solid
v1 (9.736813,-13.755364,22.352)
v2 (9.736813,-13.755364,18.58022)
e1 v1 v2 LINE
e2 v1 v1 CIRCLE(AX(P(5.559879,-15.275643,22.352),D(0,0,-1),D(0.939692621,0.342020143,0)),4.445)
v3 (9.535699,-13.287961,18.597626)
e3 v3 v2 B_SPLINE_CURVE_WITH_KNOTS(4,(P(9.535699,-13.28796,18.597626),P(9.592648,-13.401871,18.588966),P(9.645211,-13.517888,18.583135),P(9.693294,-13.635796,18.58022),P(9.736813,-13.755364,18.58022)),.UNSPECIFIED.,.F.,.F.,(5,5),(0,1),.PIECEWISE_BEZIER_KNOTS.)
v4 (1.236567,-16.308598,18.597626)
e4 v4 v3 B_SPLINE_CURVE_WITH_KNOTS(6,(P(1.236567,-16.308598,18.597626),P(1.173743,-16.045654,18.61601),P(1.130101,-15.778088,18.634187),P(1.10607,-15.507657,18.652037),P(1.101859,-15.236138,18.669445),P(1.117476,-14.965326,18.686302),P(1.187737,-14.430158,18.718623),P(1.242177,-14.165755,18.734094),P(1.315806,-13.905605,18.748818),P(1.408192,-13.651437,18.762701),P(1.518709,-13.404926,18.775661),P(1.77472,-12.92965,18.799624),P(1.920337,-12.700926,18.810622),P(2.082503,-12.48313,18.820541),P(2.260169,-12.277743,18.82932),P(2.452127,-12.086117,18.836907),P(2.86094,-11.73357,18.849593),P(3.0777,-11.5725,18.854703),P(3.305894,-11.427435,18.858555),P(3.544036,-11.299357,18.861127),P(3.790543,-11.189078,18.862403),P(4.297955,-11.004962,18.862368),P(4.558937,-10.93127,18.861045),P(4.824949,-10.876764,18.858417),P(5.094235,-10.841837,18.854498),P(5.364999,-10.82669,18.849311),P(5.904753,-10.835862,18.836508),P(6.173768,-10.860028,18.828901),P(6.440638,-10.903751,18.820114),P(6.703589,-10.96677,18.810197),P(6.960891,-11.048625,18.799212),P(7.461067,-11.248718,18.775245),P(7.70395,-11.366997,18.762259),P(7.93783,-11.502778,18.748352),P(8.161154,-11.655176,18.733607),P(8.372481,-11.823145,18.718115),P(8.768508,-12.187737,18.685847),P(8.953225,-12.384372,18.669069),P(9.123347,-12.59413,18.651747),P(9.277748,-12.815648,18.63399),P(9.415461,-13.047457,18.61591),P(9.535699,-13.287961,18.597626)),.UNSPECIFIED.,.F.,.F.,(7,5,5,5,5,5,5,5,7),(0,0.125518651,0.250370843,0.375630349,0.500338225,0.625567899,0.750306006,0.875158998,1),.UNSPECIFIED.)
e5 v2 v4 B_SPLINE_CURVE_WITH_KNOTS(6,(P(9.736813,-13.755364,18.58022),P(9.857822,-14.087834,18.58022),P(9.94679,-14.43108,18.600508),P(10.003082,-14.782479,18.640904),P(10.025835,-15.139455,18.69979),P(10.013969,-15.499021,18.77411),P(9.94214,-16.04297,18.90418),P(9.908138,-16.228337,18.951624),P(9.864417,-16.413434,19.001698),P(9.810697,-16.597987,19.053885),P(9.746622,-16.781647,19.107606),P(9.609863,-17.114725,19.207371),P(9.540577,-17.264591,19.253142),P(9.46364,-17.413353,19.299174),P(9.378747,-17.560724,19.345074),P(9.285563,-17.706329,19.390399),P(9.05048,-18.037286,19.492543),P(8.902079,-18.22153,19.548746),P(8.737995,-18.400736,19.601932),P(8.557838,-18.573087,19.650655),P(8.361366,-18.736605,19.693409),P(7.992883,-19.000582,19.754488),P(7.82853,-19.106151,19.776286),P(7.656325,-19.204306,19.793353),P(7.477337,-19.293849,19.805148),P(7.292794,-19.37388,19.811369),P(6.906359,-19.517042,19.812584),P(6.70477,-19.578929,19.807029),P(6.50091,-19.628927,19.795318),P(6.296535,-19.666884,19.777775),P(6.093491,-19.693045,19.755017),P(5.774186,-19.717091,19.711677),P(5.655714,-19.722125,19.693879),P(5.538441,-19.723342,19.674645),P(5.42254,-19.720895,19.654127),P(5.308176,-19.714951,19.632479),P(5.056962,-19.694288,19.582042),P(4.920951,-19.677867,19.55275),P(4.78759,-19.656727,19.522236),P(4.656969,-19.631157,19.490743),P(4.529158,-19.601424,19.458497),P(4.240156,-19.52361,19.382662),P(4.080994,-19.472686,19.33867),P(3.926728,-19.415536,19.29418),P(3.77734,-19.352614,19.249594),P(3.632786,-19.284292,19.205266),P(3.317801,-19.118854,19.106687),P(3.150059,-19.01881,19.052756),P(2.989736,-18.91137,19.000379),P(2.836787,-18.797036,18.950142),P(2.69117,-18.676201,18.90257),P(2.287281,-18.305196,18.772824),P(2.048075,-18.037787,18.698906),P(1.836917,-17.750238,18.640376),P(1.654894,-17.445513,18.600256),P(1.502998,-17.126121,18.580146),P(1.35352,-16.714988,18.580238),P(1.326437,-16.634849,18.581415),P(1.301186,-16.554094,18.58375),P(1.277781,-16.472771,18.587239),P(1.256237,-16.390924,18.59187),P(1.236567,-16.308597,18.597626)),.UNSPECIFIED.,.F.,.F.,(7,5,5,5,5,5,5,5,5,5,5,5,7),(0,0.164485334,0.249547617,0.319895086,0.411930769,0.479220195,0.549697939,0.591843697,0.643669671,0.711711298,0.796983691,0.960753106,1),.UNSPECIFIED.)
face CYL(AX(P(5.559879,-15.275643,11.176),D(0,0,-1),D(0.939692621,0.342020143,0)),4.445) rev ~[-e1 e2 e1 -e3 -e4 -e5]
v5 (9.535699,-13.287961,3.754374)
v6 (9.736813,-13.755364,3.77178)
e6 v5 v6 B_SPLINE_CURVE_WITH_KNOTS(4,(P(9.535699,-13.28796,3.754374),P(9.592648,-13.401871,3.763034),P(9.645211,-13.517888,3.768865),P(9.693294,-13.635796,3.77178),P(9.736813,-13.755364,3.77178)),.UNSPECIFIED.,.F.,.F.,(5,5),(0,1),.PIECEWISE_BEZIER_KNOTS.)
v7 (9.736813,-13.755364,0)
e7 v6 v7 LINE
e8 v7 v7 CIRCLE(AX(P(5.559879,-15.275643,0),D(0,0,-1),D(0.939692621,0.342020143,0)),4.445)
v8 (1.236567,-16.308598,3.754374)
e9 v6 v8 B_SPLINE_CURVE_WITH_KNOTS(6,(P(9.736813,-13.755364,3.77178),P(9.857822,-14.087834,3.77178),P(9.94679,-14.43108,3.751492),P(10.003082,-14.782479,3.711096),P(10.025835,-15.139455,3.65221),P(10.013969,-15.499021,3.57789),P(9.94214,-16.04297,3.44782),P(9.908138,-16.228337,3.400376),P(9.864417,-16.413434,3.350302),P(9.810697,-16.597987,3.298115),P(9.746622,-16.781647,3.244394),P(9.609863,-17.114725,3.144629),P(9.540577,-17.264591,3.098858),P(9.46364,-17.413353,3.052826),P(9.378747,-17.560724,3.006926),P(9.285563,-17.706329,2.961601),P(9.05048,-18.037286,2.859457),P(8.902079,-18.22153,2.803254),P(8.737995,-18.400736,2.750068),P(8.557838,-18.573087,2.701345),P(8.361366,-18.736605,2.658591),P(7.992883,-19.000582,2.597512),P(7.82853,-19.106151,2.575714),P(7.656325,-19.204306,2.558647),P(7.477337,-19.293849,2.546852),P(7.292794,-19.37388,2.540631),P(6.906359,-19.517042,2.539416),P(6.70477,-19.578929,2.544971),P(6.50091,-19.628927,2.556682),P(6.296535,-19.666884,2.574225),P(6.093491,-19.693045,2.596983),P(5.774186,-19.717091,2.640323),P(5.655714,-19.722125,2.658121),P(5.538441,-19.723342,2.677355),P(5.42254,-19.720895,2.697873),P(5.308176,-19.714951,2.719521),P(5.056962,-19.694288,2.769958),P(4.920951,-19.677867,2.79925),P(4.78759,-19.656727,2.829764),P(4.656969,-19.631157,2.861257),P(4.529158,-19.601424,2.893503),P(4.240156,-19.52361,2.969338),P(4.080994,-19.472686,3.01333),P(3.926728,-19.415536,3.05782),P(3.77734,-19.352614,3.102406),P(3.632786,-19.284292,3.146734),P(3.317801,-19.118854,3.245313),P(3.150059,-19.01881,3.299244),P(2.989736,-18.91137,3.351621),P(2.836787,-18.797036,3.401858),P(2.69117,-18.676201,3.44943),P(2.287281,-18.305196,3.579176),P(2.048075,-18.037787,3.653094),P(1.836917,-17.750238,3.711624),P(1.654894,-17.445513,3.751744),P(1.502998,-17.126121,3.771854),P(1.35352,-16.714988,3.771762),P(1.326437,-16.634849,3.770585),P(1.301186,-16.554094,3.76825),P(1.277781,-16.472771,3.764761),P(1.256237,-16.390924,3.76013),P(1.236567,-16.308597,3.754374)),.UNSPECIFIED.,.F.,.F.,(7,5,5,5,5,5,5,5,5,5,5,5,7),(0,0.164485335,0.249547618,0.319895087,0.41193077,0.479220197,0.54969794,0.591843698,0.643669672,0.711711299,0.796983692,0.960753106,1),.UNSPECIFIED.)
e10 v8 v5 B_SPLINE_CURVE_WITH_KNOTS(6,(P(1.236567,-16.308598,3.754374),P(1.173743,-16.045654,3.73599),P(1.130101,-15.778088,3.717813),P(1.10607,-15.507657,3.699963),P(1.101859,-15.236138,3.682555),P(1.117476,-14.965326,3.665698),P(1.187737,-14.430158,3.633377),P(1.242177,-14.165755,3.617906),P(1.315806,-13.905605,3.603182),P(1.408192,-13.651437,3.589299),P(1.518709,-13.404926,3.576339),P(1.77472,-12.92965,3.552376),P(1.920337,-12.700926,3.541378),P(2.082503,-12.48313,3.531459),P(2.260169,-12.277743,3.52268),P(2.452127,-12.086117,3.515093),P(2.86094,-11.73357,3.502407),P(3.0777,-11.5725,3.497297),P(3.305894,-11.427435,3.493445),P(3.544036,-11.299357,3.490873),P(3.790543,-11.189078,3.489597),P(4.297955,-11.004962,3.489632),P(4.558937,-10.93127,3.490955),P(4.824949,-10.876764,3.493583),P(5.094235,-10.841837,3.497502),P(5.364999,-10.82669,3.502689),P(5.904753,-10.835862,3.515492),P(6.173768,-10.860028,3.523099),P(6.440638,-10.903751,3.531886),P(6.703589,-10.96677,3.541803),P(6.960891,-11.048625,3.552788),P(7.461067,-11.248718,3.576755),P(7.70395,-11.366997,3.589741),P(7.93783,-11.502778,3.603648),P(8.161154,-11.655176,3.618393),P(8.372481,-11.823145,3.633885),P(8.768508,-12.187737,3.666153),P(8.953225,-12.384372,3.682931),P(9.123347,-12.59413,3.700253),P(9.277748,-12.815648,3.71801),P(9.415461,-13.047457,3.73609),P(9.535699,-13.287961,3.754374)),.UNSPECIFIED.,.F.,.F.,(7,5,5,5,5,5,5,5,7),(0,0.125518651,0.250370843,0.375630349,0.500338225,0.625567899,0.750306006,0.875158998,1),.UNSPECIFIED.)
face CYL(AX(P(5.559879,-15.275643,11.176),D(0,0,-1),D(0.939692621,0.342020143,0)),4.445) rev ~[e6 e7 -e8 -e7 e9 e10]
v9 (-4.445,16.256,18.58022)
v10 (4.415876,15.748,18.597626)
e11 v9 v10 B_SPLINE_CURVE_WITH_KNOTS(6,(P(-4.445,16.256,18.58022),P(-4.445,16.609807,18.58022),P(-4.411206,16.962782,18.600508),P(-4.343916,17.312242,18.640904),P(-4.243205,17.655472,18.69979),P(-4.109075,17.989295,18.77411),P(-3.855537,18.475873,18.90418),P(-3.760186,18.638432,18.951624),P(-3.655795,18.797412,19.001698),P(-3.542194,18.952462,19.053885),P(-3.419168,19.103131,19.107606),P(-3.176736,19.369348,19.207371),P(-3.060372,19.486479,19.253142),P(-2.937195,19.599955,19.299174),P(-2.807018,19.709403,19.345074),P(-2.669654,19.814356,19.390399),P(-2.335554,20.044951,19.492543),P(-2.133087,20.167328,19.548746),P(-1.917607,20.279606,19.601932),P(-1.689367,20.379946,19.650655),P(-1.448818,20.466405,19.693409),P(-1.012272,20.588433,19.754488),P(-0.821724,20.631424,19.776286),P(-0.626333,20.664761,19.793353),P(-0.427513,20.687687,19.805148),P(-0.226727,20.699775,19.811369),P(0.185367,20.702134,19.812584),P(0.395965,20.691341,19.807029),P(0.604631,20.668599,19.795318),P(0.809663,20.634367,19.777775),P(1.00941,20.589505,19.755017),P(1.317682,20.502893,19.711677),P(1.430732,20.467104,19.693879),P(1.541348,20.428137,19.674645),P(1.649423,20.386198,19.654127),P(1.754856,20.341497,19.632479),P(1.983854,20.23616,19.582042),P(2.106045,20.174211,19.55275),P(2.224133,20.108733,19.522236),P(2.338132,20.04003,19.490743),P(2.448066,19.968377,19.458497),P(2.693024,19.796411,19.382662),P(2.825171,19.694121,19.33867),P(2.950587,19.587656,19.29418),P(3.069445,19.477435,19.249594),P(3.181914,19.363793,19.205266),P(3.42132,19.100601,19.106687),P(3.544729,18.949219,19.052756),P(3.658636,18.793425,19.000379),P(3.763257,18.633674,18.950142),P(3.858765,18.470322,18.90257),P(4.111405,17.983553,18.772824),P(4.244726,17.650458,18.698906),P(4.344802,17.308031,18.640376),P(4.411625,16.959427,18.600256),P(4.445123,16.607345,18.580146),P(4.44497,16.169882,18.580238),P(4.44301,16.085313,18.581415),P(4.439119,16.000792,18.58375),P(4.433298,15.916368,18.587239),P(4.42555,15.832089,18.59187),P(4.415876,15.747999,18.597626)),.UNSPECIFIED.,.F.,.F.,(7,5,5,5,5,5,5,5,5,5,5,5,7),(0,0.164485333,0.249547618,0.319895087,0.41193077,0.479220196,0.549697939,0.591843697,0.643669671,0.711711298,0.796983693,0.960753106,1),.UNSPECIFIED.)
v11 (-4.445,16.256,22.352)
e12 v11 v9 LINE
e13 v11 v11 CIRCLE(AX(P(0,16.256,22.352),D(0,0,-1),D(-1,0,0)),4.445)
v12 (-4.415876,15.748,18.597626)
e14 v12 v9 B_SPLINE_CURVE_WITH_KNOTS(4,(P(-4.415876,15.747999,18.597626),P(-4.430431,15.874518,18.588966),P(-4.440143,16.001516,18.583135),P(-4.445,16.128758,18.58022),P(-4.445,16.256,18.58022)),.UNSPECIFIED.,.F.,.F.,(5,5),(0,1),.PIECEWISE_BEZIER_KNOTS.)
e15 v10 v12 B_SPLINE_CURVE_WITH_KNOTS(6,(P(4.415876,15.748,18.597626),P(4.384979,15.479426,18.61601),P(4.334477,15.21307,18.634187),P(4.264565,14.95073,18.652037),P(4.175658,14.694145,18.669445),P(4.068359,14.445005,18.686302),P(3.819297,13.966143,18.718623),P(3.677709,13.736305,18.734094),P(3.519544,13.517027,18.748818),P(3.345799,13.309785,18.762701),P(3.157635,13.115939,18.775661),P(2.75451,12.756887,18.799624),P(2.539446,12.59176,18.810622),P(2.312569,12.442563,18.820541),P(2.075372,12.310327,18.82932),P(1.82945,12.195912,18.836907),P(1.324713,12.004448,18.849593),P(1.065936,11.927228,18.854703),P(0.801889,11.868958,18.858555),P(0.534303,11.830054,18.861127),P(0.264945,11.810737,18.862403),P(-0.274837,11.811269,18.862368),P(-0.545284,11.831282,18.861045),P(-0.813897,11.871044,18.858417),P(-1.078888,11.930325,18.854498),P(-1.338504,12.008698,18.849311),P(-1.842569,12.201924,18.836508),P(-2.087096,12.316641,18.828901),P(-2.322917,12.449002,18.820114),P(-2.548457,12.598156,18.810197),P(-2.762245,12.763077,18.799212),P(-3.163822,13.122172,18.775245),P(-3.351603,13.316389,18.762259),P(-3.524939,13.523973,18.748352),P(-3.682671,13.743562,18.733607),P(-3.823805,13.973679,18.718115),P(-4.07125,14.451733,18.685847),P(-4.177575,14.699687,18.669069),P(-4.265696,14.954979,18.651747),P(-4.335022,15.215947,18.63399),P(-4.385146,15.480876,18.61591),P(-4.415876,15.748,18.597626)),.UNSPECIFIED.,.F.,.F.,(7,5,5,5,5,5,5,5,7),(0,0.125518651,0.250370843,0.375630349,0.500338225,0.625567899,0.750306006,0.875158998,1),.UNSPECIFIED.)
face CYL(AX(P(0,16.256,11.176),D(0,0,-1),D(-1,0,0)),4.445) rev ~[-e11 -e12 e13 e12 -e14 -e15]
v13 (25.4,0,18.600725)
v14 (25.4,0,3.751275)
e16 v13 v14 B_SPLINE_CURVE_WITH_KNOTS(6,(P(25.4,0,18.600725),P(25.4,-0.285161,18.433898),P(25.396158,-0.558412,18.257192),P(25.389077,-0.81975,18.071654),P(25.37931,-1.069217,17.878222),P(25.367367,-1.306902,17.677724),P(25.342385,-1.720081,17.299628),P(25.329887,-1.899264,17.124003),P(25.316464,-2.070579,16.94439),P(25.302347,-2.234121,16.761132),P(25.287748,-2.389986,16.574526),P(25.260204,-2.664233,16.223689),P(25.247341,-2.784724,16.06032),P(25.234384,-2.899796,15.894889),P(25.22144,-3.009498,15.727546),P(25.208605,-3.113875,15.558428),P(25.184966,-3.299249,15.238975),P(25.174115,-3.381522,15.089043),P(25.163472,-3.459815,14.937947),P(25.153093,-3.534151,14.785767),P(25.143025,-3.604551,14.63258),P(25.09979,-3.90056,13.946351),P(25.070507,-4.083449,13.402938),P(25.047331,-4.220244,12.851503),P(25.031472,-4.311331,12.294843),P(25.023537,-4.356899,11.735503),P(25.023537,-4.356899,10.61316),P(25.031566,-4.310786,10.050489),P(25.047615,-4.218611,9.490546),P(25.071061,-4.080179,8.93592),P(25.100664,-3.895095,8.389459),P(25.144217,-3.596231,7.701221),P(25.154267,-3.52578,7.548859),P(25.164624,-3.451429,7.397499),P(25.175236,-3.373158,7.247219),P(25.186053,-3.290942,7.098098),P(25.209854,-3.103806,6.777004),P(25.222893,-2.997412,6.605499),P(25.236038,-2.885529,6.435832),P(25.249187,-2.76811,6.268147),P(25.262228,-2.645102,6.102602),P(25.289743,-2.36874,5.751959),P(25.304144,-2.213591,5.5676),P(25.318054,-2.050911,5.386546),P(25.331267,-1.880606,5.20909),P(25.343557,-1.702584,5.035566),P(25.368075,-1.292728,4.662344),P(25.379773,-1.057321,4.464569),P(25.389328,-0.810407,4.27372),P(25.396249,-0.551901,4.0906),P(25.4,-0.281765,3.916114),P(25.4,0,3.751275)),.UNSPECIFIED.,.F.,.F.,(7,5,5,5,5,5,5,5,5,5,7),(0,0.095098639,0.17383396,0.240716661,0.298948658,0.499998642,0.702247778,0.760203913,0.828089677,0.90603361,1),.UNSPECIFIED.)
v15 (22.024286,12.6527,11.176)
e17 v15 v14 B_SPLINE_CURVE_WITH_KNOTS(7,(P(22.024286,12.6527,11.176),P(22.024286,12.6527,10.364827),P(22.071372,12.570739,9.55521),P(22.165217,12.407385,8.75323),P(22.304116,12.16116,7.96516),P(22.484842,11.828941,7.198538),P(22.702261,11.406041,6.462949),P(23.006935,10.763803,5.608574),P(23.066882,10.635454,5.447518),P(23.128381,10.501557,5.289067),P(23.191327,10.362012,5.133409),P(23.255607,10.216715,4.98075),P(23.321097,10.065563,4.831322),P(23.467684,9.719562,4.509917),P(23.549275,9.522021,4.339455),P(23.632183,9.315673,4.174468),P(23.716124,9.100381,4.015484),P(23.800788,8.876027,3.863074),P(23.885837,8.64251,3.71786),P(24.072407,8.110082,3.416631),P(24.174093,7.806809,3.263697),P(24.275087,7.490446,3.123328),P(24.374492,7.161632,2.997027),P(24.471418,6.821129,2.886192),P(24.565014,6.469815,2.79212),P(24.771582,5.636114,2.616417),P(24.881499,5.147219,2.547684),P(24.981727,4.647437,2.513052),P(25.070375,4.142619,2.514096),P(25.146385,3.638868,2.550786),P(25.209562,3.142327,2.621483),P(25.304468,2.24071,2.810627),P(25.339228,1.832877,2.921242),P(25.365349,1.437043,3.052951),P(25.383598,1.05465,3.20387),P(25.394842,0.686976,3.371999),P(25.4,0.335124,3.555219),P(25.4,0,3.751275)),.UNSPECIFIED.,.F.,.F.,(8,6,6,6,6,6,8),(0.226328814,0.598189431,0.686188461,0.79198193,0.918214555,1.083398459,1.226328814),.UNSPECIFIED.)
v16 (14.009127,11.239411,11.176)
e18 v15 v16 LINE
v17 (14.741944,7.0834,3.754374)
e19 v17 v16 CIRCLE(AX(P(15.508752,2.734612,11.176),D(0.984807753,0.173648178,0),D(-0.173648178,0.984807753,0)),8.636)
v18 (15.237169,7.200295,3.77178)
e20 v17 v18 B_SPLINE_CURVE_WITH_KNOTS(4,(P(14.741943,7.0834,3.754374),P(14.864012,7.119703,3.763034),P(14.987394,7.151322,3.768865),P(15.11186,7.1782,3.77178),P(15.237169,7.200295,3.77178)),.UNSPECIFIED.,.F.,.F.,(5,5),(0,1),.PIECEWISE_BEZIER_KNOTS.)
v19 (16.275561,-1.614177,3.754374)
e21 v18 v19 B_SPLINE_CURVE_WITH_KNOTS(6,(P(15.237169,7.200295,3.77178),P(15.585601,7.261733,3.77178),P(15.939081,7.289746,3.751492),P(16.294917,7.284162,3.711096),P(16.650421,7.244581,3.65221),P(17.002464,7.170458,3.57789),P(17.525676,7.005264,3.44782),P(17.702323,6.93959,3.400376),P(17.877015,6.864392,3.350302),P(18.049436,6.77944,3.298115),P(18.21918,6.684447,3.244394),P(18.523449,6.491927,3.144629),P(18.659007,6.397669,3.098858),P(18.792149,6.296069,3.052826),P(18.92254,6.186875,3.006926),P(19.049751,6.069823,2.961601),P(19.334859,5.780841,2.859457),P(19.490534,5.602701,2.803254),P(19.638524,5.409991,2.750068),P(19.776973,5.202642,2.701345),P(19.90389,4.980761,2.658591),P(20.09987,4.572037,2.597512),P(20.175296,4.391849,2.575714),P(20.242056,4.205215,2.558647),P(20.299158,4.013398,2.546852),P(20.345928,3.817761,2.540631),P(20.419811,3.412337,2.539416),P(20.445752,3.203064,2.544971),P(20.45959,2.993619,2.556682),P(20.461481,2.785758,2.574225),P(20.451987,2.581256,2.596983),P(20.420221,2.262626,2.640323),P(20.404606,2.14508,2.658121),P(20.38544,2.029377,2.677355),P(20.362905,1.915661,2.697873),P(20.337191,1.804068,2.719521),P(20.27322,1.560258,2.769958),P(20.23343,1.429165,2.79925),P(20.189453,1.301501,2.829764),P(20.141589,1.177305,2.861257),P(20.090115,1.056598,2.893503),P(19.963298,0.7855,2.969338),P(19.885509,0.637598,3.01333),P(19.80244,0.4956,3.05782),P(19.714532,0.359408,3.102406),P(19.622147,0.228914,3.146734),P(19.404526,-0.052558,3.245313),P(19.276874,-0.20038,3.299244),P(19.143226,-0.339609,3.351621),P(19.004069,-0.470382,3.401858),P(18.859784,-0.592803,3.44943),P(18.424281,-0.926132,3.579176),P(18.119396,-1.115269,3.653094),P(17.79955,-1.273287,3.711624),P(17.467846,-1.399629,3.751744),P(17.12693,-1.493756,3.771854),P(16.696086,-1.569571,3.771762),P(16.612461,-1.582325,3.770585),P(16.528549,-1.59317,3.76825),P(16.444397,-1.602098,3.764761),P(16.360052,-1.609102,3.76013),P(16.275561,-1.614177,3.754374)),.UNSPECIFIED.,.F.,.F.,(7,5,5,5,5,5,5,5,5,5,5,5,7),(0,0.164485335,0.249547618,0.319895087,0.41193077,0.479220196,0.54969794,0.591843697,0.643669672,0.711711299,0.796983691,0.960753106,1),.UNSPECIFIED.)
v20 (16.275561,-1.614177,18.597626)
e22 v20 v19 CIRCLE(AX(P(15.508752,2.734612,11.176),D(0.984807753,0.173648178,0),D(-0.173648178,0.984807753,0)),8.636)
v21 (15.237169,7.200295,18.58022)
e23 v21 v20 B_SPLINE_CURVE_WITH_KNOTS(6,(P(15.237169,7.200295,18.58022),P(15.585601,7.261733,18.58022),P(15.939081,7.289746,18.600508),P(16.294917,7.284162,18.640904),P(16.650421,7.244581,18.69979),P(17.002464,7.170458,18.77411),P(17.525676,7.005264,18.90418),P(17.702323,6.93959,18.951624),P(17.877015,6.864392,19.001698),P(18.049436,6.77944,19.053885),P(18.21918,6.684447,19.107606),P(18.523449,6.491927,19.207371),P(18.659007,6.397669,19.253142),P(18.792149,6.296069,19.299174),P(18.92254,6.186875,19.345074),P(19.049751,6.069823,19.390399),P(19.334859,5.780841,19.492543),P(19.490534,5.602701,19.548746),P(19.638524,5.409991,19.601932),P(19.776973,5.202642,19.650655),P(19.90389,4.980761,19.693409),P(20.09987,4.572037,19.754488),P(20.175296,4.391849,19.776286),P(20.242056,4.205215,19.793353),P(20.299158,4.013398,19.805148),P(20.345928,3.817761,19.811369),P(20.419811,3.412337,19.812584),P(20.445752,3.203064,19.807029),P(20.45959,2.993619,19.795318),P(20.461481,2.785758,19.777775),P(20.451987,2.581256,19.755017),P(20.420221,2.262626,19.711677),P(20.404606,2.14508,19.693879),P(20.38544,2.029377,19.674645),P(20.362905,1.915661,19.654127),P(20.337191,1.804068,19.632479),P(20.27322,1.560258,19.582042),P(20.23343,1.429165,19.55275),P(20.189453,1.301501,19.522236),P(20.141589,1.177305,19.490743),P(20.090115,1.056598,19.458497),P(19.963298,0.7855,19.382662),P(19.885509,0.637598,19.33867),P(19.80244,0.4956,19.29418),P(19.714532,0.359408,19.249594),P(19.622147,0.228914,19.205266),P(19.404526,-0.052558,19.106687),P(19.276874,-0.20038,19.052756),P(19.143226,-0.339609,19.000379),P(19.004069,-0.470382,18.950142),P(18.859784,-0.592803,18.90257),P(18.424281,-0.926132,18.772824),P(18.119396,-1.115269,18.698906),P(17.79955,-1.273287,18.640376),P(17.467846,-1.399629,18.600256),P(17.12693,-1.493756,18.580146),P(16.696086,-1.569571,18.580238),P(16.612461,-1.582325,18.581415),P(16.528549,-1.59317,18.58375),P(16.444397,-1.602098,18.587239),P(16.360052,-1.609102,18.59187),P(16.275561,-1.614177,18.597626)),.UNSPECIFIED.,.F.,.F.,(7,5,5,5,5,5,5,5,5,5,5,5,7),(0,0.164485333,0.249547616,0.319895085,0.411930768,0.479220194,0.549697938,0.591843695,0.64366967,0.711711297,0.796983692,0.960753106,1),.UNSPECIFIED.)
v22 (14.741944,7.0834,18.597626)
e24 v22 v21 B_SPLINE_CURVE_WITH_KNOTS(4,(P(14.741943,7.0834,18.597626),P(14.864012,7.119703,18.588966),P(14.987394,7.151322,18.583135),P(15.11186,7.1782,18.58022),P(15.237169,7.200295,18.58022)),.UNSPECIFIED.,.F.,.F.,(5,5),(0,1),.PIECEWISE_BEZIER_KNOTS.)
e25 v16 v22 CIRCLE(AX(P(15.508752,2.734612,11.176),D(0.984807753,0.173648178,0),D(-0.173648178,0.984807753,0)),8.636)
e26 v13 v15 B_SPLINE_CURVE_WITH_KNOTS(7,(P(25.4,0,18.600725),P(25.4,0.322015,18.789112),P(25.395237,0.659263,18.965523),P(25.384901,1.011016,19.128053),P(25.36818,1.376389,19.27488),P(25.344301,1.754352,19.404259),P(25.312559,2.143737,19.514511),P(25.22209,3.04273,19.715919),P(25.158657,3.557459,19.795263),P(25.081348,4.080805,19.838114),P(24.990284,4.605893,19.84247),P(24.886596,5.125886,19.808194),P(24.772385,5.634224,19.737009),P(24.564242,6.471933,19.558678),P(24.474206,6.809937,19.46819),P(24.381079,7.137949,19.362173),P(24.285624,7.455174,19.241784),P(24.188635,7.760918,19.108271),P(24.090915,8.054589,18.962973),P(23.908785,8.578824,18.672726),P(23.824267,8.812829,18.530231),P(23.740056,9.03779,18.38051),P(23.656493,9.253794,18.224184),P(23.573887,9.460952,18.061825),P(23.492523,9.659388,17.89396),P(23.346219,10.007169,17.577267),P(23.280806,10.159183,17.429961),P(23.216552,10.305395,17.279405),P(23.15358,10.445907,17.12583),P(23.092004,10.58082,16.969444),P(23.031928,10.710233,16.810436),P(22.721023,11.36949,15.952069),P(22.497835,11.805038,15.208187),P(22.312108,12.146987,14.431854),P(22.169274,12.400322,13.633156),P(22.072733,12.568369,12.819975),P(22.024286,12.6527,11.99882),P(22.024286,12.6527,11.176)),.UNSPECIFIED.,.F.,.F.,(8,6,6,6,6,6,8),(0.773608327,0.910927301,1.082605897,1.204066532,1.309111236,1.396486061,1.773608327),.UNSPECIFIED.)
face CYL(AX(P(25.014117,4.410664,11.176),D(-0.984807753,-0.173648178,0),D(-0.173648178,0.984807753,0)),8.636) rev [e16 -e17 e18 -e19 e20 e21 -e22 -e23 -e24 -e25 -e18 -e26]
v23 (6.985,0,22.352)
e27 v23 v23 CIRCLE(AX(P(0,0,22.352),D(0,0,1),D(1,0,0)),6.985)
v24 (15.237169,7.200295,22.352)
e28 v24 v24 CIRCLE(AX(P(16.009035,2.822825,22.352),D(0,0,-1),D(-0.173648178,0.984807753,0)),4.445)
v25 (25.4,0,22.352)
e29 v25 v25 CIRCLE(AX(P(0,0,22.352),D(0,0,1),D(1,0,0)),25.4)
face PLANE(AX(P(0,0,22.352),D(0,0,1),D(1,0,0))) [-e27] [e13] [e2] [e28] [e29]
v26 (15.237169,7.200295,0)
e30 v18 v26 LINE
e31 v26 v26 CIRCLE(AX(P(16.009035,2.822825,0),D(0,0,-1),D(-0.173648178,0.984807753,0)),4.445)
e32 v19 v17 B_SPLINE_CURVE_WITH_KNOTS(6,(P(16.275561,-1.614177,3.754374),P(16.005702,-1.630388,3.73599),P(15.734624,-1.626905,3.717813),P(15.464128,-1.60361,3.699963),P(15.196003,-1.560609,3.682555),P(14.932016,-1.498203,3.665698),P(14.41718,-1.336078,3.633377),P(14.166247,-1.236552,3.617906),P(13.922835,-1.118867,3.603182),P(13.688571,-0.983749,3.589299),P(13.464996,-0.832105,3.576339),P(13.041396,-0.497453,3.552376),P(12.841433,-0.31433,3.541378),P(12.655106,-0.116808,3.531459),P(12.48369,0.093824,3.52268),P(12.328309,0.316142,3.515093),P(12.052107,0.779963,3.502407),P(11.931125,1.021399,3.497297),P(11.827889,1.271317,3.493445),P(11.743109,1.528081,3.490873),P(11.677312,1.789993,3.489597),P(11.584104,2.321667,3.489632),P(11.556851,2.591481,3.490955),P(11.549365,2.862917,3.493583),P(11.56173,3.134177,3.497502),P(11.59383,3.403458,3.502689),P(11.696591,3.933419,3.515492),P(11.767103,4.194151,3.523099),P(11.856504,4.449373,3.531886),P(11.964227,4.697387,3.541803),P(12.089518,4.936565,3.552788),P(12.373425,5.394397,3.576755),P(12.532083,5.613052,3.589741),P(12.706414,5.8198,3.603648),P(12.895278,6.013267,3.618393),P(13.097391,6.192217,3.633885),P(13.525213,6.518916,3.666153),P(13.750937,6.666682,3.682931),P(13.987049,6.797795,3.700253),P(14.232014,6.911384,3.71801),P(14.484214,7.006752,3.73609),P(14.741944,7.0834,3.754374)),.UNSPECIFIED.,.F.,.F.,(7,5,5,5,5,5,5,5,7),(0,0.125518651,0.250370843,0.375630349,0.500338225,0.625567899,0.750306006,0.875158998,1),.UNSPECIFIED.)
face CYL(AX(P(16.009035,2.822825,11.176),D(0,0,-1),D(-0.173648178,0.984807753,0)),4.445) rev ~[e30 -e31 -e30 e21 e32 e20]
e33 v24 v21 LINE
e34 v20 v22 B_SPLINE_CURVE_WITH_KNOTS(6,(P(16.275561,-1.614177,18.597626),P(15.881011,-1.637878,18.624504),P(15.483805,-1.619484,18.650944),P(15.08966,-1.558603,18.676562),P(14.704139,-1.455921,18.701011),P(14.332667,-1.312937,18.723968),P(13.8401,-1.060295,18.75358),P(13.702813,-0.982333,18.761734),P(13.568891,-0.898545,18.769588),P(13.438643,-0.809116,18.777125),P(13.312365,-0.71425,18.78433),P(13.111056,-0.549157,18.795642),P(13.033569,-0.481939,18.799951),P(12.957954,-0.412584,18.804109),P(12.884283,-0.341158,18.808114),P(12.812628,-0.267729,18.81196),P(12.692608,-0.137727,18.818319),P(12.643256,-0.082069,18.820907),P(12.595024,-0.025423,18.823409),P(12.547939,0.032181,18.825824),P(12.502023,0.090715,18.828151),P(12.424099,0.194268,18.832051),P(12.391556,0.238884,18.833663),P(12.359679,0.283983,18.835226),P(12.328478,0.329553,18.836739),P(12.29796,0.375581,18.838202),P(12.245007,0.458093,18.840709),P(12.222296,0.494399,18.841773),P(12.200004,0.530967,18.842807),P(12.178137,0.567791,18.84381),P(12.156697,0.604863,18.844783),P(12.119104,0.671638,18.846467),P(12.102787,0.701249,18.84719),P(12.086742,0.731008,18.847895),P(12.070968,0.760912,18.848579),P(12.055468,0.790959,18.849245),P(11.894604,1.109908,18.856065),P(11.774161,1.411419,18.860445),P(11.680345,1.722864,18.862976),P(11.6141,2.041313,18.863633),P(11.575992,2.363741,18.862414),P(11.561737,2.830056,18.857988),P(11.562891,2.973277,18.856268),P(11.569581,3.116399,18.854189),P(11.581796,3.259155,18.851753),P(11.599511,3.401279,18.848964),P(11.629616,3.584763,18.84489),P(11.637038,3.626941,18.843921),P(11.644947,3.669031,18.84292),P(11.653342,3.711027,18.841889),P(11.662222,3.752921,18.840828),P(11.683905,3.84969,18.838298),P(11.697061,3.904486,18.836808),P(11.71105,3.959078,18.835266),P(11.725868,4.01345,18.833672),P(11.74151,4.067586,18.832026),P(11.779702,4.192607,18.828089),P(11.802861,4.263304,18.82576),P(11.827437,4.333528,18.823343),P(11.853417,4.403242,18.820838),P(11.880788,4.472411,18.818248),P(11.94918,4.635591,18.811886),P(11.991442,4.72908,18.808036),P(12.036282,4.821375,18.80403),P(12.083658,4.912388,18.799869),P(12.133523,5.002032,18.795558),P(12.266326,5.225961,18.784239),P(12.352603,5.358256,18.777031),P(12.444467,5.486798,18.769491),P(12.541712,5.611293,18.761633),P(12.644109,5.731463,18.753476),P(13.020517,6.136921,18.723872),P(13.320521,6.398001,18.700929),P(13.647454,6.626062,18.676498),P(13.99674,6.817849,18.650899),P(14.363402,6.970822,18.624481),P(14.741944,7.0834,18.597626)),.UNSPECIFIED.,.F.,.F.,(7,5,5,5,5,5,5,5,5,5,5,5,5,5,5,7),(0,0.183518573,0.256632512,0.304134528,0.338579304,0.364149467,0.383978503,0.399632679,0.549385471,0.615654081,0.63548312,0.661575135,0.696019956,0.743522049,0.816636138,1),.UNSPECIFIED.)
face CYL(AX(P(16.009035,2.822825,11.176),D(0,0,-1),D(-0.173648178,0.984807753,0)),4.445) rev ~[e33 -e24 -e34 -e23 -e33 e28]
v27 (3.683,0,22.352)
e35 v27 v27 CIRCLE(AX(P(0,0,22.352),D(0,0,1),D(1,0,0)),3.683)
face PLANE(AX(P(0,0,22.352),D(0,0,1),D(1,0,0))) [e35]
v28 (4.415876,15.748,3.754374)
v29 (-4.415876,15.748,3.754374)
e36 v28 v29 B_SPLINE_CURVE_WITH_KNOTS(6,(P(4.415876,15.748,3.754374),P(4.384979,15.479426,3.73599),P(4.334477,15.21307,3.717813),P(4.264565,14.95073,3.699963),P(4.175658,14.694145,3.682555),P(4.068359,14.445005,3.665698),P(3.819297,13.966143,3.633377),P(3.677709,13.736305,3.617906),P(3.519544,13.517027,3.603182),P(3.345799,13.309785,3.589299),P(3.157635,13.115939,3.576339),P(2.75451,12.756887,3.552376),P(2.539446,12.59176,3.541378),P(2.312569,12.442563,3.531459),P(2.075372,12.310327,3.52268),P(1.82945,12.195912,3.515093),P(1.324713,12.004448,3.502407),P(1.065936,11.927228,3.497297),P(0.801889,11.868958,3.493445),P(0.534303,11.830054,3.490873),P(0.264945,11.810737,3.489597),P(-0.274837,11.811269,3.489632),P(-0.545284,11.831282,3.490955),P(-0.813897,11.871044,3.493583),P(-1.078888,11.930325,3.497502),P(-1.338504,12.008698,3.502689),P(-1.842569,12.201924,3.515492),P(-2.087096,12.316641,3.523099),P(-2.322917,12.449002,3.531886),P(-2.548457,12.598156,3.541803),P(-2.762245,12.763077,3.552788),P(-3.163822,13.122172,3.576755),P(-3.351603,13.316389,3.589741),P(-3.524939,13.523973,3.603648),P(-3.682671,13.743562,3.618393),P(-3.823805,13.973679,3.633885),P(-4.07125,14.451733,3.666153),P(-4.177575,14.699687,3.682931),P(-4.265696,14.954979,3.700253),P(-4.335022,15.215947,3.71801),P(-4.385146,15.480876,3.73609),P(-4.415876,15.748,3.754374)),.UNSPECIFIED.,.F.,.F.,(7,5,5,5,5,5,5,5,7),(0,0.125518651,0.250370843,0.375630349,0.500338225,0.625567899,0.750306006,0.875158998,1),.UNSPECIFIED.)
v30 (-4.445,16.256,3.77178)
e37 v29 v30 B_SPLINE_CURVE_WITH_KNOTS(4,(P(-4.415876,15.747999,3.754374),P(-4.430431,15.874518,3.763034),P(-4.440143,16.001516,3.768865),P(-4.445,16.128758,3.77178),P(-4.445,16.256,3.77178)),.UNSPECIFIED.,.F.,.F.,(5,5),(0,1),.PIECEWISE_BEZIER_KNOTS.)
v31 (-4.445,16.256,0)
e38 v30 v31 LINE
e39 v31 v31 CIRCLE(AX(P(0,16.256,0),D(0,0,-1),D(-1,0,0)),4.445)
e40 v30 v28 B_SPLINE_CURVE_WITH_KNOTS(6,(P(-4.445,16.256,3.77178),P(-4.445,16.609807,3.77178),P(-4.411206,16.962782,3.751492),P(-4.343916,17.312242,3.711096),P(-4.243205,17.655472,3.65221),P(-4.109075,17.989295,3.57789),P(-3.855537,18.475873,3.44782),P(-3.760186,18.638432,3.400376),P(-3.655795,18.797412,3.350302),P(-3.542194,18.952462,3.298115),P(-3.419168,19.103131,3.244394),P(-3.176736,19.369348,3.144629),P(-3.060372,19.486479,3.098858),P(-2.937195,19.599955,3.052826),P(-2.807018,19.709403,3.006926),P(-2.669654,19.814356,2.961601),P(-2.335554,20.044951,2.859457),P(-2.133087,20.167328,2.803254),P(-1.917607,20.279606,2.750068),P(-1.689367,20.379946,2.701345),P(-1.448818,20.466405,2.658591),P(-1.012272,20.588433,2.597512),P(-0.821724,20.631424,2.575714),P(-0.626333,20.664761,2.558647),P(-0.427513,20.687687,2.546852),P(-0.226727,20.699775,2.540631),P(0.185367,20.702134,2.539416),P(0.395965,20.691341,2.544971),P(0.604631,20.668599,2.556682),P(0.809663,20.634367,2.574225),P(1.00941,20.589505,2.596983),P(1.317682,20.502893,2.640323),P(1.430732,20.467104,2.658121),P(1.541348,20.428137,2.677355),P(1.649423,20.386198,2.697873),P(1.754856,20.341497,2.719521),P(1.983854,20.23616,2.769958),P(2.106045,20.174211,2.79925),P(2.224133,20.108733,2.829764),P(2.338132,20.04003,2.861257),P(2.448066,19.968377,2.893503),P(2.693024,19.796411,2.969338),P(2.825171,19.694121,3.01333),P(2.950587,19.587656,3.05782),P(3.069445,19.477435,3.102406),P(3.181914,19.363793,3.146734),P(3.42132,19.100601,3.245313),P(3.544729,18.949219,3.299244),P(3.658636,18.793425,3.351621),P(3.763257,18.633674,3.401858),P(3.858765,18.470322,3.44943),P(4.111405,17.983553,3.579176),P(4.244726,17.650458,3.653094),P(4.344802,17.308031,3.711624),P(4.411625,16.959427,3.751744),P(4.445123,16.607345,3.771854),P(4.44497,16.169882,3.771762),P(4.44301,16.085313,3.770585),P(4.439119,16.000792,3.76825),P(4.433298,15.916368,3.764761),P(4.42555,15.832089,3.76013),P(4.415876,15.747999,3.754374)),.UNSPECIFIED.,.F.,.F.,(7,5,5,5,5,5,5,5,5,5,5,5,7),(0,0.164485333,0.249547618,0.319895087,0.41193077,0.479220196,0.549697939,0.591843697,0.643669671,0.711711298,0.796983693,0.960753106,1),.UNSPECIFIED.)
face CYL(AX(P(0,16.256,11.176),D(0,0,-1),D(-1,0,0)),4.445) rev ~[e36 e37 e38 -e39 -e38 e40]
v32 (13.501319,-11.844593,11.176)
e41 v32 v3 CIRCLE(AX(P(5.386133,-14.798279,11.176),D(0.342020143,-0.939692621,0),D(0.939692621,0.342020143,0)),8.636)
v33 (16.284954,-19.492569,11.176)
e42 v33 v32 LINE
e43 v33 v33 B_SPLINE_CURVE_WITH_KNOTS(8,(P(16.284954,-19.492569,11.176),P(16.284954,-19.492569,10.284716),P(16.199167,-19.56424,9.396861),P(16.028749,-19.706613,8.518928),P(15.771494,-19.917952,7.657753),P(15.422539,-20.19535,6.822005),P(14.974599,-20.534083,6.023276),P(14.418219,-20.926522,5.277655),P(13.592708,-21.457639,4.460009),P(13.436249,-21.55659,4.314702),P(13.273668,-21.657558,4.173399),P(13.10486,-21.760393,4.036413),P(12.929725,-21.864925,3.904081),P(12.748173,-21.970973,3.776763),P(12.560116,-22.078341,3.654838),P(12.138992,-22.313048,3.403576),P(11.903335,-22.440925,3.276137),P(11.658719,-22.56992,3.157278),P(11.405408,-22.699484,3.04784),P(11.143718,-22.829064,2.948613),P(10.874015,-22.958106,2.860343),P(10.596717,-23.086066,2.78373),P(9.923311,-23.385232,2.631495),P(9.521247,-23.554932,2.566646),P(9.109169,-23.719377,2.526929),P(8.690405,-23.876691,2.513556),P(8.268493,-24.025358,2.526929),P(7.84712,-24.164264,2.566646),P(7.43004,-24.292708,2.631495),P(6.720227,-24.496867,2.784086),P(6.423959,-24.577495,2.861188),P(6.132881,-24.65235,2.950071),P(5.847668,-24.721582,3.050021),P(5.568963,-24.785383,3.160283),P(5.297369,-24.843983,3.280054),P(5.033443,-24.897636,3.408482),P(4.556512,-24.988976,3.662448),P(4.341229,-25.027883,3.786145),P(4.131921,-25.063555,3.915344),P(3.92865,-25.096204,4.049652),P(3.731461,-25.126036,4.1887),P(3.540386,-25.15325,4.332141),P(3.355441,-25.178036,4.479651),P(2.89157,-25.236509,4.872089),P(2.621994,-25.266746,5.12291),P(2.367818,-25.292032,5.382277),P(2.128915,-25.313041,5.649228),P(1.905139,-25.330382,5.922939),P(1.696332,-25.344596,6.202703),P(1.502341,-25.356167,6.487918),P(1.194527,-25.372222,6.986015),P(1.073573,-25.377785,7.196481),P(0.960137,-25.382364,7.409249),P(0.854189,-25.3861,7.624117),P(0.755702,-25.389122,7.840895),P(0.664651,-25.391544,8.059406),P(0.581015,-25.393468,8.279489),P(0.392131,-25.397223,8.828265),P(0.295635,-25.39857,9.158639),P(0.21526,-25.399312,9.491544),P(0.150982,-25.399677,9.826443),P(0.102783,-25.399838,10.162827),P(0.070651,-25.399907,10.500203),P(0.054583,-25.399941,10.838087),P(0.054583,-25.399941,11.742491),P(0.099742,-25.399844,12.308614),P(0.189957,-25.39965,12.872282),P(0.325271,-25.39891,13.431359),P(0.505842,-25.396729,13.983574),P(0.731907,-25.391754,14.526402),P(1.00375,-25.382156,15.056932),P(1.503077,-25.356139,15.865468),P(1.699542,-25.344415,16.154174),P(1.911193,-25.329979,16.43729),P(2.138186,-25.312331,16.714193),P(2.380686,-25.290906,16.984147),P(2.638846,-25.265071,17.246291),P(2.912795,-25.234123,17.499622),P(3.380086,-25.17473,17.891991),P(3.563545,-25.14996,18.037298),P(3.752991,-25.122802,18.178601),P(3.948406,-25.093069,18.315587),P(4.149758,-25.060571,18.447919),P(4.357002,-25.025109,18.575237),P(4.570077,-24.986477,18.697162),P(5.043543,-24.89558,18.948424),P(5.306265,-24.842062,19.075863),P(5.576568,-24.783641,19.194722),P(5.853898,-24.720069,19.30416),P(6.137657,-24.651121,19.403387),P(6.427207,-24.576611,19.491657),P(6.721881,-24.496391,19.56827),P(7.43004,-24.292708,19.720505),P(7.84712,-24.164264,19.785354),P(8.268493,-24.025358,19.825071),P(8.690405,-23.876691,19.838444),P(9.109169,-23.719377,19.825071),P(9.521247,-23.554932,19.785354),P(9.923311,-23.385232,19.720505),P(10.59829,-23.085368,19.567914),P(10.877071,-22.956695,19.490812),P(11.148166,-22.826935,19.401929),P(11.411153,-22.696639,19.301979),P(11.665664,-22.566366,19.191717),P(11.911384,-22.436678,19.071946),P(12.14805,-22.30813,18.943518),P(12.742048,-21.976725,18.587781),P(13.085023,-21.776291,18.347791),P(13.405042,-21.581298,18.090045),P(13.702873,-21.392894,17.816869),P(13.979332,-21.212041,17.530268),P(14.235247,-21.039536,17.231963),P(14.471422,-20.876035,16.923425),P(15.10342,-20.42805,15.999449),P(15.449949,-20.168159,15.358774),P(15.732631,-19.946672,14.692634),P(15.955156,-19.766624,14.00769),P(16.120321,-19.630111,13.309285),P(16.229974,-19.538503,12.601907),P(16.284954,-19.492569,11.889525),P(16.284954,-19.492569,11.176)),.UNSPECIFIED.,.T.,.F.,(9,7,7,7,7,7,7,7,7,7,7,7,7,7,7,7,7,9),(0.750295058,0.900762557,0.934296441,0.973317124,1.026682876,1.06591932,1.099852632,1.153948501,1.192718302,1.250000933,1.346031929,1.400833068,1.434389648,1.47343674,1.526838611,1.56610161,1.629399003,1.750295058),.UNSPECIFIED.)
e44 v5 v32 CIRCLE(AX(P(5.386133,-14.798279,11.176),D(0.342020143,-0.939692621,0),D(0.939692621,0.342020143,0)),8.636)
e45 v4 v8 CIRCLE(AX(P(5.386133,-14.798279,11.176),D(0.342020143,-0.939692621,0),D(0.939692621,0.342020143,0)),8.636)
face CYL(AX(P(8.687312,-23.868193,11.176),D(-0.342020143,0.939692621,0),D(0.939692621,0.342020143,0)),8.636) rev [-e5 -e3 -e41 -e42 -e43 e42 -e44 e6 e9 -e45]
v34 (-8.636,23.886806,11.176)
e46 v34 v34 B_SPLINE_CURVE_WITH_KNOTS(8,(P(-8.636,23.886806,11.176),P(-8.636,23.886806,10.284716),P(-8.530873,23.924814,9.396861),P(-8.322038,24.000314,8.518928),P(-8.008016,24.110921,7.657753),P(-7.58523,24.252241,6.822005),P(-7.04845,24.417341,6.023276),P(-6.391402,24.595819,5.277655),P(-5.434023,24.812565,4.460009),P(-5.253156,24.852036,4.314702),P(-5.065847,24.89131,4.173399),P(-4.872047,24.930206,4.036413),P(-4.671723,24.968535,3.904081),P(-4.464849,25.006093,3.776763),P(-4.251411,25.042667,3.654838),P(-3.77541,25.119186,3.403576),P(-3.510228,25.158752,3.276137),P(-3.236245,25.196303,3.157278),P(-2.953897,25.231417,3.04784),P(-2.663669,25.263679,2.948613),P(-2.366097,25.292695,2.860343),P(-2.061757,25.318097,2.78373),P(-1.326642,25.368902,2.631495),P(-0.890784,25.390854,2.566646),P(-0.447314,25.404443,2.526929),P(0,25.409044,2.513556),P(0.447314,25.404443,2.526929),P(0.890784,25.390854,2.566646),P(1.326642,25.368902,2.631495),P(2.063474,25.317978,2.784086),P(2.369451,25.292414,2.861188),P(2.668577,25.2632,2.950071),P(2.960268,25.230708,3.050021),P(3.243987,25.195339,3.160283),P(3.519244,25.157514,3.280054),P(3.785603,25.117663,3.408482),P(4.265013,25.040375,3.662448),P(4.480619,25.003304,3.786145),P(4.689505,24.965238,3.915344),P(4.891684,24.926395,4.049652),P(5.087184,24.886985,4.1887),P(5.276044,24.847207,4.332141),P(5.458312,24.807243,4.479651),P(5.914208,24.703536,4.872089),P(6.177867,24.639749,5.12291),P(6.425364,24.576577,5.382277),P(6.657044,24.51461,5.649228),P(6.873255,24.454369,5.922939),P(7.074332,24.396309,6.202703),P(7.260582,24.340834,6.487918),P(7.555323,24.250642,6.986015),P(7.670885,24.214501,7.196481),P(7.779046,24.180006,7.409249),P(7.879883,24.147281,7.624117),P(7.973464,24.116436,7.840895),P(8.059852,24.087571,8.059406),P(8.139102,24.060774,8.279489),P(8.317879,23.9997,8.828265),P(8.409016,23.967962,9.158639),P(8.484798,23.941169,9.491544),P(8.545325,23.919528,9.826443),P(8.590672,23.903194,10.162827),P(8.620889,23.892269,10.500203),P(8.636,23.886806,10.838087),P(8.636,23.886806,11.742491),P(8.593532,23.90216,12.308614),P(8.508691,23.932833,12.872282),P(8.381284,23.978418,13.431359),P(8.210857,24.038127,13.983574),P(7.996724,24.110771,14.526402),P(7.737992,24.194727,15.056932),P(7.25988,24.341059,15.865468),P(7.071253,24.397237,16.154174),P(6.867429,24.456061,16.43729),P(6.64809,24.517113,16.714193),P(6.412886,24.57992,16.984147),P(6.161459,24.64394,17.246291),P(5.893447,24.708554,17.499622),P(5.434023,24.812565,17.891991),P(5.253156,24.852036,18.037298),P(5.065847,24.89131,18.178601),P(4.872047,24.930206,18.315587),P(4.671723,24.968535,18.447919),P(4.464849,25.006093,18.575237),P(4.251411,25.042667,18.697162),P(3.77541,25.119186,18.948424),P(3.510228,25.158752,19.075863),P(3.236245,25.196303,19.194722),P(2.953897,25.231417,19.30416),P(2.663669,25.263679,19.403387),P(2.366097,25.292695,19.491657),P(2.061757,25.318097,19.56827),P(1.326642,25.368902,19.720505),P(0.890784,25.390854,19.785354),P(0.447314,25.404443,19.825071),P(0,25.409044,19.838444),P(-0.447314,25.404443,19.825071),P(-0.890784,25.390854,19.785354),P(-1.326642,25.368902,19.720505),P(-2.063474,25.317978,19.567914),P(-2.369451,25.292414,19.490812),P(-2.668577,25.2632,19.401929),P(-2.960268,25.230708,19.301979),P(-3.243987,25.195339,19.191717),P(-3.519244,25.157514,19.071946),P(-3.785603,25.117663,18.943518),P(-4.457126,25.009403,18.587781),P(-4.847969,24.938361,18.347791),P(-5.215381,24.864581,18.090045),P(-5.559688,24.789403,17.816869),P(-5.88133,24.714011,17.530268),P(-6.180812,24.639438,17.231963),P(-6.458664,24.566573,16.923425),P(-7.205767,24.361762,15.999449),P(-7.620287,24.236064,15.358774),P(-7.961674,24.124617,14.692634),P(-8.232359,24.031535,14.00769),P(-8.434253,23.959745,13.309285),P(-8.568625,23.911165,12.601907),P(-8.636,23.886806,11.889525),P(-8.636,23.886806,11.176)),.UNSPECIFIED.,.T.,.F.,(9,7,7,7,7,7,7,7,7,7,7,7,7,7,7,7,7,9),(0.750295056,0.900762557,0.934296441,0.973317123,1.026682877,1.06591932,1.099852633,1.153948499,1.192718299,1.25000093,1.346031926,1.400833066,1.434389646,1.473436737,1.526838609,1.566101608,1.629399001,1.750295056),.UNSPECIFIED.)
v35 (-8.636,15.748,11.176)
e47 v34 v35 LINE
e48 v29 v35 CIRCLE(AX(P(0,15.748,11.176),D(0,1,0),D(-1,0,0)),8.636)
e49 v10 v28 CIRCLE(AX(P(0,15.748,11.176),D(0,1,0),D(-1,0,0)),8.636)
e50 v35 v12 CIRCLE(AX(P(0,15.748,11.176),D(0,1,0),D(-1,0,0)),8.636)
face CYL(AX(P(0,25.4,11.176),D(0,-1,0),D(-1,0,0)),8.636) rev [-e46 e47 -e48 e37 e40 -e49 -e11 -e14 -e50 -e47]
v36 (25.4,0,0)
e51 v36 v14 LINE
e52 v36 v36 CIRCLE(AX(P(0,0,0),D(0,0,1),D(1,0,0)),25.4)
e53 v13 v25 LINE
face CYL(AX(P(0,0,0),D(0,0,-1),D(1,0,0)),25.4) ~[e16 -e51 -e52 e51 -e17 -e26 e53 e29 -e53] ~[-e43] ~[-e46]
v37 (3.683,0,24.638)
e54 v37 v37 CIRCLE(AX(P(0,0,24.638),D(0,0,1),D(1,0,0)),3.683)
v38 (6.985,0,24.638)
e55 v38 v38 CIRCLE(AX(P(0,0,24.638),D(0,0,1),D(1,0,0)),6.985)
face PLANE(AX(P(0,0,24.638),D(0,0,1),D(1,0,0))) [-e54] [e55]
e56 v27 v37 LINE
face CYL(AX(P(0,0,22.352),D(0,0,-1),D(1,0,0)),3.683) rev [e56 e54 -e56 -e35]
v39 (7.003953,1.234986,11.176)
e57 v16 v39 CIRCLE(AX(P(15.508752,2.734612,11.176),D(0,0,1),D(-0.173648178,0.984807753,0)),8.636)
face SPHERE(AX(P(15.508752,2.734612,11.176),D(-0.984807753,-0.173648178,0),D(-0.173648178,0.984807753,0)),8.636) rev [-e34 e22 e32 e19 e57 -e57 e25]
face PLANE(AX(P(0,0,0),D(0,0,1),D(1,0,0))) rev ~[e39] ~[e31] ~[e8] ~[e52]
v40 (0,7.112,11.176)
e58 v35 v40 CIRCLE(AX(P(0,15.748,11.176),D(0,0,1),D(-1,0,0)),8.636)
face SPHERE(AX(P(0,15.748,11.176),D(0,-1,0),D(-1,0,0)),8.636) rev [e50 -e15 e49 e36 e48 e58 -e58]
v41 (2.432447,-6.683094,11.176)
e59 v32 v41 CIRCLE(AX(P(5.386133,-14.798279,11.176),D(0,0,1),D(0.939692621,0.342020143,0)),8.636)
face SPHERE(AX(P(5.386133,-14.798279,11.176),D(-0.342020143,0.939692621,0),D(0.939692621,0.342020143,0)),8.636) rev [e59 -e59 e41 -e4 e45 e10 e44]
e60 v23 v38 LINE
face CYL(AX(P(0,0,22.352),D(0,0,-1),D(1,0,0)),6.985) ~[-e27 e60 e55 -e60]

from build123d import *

# Parameters (mm, degrees)
SKETCH1_R           = 25.4
BOSS_EXTRUDE1_DEPTH = 22.352
SKETCH3_R           = 4.445
CUT_EXTRUDE1_DEPTH  = 12.1760001
CIRPATTERN1_COUNT   = 3
CIRPATTERN1_ANGLE   = 160
SKETCH4_R           = 6.985
SKETCH4_R_2         = 3.683
BOSS_EXTRUDE2_DEPTH = 2.286


with BuildPart() as part:
    # Sketch1 → Boss-Extrude1 (new body)
    with BuildSketch(Plane.XY):
        Circle(SKETCH1_R)
    extrude(amount=BOSS_EXTRUDE1_DEPTH)

    # Sketch2 → Cut-Revolve1 (revolve, cut)
    with BuildSketch(Plane(origin=(0, 0, 11.176), x_dir=(-1, 0, 0), z_dir=(0, 0, -1))):
        with BuildLine():
            Line((0, 25.4), (8.636, 25.4))
            Line((8.636, 25.4), (8.636, 15.748))
            ThreePointArc((8.636, 15.748), (6.106574162, 9.641425838), (0, 7.112))
            Line((0, 7.112), (0, 25.4))
        make_face()
    cut_revolve1 = revolve(axis=Axis((0, 0, 11.176), (0, 1, 0)), mode=Mode.SUBTRACT)

    # Sketch3 → Cut-Extrude1 (cut, symmetric)
    with BuildSketch(Plane(origin=(0, 0, 11.176), x_dir=(-1, 0, 0), z_dir=(0, 0, -1))):
        with Locations((0, 16.256)):
            Circle(SKETCH3_R)
    cut_extrude1 = extrude(amount=CUT_EXTRUDE1_DEPTH, both=True, mode=Mode.SUBTRACT)

    # CirPattern1: Cut-Revolve1, Cut-Extrude1 ×3 about axis
    cirpattern1_axis = Axis((0, 0, 0), (0, 0, -1))
    for i in range(1, CIRPATTERN1_COUNT):
        add(cut_revolve1.rotate(cirpattern1_axis, i * CIRPATTERN1_ANGLE / (CIRPATTERN1_COUNT - 1)), mode=Mode.SUBTRACT)
        add(cut_extrude1.rotate(cirpattern1_axis, i * CIRPATTERN1_ANGLE / (CIRPATTERN1_COUNT - 1)), mode=Mode.SUBTRACT)

    # Sketch4 → Boss-Extrude2 (add)
    with BuildSketch(Plane.XY.offset(22.352)):
        Circle(SKETCH4_R)
        Circle(SKETCH4_R_2, mode=Mode.SUBTRACT)
    extrude(amount=BOSS_EXTRUDE2_DEPTH)


solid = part.part
